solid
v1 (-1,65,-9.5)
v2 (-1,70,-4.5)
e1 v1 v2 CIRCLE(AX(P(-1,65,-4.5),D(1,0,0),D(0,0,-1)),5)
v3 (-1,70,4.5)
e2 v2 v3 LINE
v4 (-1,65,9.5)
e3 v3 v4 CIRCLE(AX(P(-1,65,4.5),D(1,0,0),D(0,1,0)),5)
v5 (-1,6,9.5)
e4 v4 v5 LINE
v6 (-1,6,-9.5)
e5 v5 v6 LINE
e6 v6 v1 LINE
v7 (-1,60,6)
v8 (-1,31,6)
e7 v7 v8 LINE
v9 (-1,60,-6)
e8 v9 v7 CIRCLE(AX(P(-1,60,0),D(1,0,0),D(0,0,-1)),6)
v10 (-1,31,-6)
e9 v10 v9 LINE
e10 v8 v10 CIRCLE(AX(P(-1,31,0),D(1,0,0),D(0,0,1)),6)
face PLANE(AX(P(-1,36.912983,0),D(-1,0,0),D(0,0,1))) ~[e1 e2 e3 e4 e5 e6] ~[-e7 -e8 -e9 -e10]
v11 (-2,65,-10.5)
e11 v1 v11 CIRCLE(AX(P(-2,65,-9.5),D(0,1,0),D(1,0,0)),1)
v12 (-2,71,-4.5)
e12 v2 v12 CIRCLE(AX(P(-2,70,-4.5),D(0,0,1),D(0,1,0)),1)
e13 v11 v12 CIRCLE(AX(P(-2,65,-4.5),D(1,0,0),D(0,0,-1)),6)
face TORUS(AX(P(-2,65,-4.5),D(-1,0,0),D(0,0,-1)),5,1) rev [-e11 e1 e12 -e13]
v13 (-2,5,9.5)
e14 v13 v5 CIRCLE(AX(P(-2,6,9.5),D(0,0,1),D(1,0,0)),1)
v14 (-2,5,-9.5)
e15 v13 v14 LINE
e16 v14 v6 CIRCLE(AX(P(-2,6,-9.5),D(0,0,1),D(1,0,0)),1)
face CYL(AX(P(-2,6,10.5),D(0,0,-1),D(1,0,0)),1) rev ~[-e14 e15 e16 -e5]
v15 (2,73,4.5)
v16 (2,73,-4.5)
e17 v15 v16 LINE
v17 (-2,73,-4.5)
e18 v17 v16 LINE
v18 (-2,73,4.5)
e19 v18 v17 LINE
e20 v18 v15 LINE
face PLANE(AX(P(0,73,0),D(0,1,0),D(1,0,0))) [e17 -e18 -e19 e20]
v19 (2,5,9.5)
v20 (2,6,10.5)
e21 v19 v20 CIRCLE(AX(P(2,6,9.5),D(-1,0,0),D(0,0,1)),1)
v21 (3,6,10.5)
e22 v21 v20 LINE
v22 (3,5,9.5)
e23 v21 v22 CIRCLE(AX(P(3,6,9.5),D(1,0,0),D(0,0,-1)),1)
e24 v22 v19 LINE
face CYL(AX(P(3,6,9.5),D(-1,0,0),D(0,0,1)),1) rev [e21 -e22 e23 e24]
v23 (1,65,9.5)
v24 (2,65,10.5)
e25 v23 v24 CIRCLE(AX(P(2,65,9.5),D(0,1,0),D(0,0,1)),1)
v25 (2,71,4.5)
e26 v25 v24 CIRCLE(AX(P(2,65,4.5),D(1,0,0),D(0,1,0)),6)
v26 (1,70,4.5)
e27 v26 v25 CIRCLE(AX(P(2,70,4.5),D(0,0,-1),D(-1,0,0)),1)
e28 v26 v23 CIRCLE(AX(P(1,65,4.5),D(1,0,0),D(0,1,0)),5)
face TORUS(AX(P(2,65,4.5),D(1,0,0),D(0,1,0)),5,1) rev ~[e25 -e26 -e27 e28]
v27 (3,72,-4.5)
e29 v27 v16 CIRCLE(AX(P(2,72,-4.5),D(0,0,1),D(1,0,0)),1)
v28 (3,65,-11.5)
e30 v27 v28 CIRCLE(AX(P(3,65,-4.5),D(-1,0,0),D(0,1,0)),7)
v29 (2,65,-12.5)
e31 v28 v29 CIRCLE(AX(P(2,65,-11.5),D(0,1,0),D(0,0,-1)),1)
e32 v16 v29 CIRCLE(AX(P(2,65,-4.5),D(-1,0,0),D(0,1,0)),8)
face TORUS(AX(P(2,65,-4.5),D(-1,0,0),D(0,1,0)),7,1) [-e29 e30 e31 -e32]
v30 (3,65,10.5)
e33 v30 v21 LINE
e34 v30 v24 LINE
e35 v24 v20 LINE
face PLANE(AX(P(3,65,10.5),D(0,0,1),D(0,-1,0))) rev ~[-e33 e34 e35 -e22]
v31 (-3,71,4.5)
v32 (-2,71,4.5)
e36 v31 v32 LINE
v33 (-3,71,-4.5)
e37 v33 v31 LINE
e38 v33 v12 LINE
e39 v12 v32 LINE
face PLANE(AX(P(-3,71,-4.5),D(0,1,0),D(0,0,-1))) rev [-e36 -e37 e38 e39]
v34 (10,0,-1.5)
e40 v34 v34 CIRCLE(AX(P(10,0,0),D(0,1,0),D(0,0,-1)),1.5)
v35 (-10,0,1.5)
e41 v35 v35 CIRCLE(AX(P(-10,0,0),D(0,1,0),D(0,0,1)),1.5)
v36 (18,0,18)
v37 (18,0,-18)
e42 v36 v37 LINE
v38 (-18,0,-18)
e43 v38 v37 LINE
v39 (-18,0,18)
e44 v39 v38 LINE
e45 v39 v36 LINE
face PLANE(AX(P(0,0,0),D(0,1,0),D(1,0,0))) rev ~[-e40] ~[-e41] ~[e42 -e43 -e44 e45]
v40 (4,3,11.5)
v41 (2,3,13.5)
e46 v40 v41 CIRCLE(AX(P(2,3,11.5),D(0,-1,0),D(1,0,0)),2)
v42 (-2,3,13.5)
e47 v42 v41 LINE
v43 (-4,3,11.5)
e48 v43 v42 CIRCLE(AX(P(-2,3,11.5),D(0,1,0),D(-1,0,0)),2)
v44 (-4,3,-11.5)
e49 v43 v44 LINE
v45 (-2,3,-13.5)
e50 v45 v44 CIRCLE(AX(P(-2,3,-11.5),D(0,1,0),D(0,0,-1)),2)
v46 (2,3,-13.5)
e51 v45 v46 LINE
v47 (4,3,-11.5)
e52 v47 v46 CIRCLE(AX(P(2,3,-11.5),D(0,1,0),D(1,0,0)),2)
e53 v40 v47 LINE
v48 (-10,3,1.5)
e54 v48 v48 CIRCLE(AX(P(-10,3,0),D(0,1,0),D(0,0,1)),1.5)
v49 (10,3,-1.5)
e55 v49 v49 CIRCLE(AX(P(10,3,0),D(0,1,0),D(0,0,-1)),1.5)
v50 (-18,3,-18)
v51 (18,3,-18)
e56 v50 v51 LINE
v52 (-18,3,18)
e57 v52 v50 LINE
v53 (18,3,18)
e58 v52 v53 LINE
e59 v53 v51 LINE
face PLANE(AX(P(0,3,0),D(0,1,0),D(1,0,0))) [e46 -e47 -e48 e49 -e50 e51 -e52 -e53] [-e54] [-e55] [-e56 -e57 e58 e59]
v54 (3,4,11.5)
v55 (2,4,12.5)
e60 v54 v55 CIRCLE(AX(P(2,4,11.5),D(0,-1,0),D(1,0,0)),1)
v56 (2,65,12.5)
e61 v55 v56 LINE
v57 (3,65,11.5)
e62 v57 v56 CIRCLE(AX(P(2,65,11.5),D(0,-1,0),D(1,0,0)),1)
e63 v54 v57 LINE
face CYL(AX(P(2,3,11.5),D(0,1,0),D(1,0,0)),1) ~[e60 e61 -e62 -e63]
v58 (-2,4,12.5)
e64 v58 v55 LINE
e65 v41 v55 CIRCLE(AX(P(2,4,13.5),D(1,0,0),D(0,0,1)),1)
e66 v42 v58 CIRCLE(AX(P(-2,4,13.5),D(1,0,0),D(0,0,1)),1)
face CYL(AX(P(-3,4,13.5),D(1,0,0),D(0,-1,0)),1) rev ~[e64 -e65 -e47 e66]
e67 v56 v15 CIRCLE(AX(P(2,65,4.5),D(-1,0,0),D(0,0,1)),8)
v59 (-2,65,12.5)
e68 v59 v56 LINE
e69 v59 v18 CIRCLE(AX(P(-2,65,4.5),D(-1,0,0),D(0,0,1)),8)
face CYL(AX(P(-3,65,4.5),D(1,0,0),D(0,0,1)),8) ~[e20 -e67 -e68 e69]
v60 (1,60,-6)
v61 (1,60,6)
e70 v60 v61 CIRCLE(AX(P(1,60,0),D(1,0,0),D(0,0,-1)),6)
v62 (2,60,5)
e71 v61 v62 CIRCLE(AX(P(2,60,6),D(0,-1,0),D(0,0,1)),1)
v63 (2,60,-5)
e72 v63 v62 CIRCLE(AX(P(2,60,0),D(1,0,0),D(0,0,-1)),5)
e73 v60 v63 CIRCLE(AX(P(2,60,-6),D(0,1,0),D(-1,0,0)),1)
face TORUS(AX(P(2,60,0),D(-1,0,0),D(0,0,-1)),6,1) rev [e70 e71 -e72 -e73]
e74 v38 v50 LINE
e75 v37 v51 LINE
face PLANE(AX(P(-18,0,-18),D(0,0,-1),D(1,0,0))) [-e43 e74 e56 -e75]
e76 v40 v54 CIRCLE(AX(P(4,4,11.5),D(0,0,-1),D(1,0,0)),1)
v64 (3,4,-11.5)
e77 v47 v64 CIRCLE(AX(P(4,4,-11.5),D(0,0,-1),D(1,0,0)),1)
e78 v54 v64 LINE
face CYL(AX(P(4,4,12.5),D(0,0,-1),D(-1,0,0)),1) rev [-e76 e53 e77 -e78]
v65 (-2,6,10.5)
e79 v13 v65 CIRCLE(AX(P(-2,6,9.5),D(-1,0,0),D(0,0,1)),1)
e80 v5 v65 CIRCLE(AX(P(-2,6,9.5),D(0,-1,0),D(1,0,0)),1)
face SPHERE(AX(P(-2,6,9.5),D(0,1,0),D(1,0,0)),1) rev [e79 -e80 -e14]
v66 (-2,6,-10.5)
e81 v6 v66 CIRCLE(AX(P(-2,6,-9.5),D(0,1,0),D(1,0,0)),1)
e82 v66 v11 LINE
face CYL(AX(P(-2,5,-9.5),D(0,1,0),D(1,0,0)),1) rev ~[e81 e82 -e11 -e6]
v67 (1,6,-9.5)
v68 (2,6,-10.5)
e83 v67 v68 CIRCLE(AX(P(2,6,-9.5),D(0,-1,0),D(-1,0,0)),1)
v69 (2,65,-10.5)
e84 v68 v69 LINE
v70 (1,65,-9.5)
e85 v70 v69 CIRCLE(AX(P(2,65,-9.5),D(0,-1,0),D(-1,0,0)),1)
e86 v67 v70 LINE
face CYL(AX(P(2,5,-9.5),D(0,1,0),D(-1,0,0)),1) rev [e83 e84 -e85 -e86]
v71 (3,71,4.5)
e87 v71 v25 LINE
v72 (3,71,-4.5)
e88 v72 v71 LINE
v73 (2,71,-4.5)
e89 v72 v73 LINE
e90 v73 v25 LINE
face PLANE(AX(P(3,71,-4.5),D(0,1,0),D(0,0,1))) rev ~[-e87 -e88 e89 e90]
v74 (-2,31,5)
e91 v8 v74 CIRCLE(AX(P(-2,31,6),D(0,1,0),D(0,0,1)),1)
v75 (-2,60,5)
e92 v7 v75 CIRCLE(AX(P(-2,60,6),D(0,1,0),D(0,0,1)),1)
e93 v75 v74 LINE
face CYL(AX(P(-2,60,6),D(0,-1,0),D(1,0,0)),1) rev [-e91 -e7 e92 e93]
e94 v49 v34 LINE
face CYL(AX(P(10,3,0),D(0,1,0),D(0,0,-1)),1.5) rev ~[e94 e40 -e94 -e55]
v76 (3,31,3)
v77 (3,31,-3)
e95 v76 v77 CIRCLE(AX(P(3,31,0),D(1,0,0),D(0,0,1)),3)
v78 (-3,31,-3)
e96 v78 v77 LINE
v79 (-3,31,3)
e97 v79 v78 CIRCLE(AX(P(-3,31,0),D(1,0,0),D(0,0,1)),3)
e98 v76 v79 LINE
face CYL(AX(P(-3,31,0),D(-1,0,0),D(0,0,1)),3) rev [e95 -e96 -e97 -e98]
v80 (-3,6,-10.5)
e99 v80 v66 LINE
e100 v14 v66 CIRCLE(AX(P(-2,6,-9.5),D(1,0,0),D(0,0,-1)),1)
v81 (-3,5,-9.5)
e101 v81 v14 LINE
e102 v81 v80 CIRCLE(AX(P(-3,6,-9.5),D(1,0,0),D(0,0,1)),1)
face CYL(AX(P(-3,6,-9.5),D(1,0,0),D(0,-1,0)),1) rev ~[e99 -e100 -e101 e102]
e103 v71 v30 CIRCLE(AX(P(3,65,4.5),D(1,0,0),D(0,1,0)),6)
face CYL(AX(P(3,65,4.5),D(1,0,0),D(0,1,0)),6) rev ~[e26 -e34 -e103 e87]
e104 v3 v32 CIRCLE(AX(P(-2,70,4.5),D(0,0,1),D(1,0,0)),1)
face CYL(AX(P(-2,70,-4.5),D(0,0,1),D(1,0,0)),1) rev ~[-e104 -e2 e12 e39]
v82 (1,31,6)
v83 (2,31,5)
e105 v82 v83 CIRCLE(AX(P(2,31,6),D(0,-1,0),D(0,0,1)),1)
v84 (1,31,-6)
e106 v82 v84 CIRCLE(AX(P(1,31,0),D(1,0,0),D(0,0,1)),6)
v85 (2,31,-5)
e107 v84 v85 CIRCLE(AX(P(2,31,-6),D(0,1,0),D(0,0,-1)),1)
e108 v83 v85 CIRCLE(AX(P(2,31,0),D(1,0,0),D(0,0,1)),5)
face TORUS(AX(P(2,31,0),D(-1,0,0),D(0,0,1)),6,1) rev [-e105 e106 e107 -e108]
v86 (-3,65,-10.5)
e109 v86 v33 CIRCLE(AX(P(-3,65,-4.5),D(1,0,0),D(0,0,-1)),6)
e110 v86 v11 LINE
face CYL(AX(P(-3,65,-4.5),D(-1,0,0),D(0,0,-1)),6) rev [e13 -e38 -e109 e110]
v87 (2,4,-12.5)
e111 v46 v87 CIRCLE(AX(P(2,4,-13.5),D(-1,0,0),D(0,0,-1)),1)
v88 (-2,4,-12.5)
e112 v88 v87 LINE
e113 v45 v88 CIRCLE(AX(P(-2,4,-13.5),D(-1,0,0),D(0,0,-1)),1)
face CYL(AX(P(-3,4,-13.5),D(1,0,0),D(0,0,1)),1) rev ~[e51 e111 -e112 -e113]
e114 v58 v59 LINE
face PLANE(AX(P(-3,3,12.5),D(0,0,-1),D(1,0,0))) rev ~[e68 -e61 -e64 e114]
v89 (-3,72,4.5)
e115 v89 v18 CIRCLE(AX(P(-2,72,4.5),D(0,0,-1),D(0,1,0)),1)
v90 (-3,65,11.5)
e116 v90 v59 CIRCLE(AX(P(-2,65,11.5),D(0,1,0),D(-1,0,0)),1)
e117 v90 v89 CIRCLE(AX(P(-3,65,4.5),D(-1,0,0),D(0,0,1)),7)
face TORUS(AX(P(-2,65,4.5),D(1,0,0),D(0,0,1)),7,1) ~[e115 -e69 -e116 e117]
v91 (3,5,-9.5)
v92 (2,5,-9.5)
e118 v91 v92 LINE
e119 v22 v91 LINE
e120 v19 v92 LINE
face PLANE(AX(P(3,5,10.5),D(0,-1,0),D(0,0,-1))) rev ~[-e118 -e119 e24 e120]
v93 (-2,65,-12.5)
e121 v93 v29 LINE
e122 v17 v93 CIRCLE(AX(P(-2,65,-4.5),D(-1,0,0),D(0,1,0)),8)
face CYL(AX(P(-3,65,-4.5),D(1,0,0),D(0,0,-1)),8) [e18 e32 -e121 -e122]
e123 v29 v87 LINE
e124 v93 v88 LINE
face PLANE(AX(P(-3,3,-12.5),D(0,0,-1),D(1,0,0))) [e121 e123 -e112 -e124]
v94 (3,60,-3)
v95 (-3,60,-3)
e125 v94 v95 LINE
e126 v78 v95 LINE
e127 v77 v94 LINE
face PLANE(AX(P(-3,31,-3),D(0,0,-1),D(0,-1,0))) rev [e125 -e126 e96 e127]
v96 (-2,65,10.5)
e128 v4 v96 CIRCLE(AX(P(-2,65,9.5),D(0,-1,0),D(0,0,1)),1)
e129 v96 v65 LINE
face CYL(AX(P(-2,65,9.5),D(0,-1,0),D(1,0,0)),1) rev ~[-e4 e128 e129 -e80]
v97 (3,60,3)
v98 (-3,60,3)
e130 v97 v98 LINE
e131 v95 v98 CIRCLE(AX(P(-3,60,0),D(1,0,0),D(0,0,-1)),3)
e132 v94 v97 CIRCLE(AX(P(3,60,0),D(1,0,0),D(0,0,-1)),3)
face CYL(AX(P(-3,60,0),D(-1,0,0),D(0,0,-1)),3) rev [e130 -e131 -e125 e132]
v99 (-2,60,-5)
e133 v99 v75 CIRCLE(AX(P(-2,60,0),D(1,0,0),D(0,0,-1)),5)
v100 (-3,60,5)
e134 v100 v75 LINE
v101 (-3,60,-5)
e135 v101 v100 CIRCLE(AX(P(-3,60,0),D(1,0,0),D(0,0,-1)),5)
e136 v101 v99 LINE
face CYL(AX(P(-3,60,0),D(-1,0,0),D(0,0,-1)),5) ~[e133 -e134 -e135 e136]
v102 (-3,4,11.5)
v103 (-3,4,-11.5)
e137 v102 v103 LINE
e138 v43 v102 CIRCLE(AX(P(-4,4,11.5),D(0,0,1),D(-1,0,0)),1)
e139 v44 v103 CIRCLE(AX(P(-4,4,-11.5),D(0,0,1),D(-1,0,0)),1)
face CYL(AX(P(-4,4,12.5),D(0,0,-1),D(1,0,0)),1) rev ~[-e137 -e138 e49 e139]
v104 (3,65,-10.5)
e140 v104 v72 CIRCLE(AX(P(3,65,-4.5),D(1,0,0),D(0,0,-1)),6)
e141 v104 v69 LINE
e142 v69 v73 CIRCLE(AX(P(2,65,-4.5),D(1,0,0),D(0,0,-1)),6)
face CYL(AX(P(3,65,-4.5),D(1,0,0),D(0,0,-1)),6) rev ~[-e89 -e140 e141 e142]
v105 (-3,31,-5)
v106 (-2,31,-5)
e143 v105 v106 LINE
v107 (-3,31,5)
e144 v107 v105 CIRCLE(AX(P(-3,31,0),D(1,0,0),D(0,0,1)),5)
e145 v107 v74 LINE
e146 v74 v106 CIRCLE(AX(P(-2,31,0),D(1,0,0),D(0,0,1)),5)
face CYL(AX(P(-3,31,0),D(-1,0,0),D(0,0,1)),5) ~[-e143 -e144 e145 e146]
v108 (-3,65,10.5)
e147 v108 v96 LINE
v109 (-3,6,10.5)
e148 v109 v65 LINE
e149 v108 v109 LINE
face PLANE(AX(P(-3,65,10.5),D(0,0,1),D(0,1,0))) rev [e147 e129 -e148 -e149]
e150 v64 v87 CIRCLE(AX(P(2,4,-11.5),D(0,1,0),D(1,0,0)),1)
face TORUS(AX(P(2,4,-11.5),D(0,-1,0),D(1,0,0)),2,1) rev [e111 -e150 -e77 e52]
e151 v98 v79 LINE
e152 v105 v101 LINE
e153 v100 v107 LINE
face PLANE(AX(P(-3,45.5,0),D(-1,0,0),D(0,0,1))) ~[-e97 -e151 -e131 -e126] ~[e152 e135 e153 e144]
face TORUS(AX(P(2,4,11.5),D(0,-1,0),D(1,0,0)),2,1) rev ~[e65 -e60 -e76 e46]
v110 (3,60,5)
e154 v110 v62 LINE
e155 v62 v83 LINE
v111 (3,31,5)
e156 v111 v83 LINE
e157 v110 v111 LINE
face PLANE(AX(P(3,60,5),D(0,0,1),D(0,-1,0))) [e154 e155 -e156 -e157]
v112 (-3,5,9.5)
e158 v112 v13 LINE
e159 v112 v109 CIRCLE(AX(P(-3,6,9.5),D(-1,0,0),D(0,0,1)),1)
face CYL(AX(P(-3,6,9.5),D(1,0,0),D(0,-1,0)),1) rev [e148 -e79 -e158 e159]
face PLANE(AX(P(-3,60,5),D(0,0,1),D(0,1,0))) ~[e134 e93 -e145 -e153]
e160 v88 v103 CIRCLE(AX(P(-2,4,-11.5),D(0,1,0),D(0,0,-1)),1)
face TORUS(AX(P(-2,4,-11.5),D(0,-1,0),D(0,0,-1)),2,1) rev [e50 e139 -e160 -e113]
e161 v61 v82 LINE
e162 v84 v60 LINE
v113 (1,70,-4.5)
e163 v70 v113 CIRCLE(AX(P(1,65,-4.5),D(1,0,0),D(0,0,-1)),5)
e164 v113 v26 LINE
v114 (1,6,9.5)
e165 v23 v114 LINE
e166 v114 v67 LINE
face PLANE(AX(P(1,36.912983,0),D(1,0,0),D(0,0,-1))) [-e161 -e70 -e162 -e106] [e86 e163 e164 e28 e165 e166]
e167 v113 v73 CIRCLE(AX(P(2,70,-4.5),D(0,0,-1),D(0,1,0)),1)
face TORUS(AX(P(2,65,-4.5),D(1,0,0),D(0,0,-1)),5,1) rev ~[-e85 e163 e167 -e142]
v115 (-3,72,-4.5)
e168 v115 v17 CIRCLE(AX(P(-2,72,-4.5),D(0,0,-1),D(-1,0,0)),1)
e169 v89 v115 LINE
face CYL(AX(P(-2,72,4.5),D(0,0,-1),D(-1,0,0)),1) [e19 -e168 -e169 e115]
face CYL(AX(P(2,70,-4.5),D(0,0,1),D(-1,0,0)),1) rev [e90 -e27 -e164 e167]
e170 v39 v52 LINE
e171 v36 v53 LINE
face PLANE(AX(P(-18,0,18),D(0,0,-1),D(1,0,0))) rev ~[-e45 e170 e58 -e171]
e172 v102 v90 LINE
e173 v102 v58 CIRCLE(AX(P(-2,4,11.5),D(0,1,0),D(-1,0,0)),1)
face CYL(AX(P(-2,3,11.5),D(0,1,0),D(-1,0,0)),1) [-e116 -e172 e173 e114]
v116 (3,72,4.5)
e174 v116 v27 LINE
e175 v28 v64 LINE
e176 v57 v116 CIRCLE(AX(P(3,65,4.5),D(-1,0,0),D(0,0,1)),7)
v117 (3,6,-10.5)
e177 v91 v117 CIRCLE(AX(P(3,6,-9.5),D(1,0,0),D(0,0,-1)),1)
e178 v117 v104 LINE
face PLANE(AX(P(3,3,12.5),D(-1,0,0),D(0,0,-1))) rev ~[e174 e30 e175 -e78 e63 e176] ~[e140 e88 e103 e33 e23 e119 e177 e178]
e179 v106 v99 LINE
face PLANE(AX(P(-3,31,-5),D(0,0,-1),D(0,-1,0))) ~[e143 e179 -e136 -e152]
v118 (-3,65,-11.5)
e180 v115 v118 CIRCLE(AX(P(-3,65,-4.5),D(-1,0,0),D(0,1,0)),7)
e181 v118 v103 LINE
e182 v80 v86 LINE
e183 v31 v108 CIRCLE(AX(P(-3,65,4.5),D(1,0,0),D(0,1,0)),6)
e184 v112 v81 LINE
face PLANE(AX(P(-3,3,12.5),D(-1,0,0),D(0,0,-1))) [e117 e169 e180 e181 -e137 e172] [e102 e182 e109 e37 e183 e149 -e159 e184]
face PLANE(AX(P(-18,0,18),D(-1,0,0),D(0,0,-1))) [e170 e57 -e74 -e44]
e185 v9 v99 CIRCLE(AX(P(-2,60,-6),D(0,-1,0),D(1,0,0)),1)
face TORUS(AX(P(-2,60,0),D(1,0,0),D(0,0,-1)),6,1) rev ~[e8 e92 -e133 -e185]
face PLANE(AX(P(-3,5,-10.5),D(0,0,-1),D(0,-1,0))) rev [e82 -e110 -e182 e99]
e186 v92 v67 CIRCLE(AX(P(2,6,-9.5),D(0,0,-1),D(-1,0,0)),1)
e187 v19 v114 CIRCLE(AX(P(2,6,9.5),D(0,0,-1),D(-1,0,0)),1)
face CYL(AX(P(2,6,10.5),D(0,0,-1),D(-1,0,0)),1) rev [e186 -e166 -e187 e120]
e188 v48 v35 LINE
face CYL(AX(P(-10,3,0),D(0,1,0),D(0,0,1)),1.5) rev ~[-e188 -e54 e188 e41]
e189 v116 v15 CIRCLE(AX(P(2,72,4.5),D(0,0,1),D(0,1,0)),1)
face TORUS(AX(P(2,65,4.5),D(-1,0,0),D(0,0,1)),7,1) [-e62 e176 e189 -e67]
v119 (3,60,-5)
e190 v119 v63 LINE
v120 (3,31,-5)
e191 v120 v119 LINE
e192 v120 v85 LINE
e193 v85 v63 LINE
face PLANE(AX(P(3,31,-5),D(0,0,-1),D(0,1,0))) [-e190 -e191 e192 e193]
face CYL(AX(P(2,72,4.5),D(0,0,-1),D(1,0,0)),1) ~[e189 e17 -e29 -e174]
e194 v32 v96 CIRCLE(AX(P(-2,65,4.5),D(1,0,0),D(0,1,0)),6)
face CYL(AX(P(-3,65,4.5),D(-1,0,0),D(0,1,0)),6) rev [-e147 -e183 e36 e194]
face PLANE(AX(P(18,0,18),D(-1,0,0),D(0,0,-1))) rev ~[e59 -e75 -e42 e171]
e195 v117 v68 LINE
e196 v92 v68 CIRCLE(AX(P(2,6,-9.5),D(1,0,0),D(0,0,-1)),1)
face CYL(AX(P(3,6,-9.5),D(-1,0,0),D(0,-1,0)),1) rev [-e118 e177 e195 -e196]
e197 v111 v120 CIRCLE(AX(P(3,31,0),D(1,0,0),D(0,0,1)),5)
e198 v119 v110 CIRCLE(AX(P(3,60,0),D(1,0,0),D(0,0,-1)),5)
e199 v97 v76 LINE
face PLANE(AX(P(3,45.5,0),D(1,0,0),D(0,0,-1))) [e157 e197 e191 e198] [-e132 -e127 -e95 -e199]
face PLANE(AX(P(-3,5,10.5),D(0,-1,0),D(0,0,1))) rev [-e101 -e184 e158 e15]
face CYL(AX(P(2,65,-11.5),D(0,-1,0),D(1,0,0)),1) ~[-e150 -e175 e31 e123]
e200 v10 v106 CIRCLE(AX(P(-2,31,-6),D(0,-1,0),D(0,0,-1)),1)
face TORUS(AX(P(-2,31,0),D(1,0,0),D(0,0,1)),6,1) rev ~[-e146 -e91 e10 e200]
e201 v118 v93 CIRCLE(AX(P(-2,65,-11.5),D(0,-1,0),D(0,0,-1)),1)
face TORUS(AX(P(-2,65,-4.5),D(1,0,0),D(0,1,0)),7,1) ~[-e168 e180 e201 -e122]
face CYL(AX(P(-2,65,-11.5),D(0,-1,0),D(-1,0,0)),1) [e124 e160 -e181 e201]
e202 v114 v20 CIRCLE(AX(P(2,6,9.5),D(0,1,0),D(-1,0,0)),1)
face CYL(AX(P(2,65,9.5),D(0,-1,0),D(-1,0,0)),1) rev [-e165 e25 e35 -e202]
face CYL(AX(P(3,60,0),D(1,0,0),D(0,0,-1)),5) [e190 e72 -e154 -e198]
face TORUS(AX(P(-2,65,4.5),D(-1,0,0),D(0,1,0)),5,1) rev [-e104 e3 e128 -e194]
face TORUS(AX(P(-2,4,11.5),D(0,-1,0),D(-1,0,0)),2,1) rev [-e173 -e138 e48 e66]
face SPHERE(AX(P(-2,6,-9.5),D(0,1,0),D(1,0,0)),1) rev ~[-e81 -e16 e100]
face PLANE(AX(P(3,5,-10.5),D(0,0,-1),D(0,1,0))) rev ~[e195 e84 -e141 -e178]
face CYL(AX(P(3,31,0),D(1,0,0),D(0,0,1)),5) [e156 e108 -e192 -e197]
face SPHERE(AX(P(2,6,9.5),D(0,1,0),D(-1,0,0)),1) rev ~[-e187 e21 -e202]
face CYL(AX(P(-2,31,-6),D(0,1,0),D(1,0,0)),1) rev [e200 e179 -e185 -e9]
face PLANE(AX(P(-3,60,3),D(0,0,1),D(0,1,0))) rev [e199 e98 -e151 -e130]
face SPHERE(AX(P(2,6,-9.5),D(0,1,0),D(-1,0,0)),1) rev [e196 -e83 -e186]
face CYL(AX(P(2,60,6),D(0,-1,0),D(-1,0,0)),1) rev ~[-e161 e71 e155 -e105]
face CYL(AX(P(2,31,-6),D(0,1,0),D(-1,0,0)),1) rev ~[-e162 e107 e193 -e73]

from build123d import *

# Parameters (mm, degrees)
SKETCH1_W           = 36
SKETCH1_H           = 36
BOSS_EXTRUDE1_DEPTH = 3
SKETCH2_R           = 1.5
CUT_EXTRUDE1_DEPTH  = 3
SKETCH3_W           = 6
SKETCH3_H           = 25
BOSS_EXTRUDE2_DEPTH = 70
CUT_EXTRUDE2_DEPTH  = 70
FILLET1_R           = 8
CUT_EXTRUDE3_DEPTH  = 2
BOSS_EXTRUDE3_START = 2
BOSS_EXTRUDE3_DEPTH = 2
FILLET2_R           = 1


with BuildPart() as part:
    # Sketch1 → Boss-Extrude1 (new body)
    with BuildSketch(Plane(origin=(0, 0, 0), x_dir=(1, 0, 0), z_dir=(0, 1, 0))):
        Rectangle(SKETCH1_W, SKETCH1_H)
    extrude(amount=BOSS_EXTRUDE1_DEPTH)

    # Sketch2 → Cut-Extrude1 (cut)
    with BuildSketch(Plane(origin=(0, 3, 0), x_dir=(1, 0, 0), z_dir=(0, 1, 0))):
        with Locations(Location((-10, 0, 0), (0, 0, 270))):
            Circle(SKETCH2_R)
        with Locations(Location((10, 0, 0), (0, 0, 90))):
            Circle(SKETCH2_R)
    extrude(amount=-CUT_EXTRUDE1_DEPTH, mode=Mode.SUBTRACT)

    # Sketch3 → Boss-Extrude2 (add)
    with BuildSketch(Plane(origin=(0, 3, 0), x_dir=(1, 0, 0), z_dir=(0, 1, 0))):
        Rectangle(SKETCH3_W, SKETCH3_H)
    extrude(amount=BOSS_EXTRUDE2_DEPTH)

    # Sketch4 → Cut-Extrude2 (cut)
    with BuildSketch(Plane(origin=(3, 0, 0), x_dir=(0, 0, -1), z_dir=(1, 0, 0))):
        with BuildLine():
            Line((-3, 60), (-3, 31))
            ThreePointArc((-3, 31), (0, 28), (3, 31))
            Line((3, 31), (3, 60))
            ThreePointArc((3, 60), (0, 63), (-3, 60))
        make_face()
    extrude(amount=-CUT_EXTRUDE2_DEPTH, mode=Mode.SUBTRACT)

    # Fillet1
    fillet1_edges = [part.edges().sort_by_distance(p)[0] for p in [
        (0, 73, -12.5),
        (0, 73, 12.5),
    ]]
    fillet(fillet1_edges, radius=FILLET1_R)

    # Sketch5 → Cut-Extrude3 (cut)
    with BuildSketch(Plane(origin=(3, 0, 0), x_dir=(0, 0, -1), z_dir=(1, 0, 0))):
        with BuildLine():
            Line((4.5, 71), (-4.5, 71))
            ThreePointArc((-4.5, 71), (-8.742640687, 69.242640687), (-10.5, 65))
            Line((-10.5, 65), (-10.5, 5))
            Line((-10.5, 5), (10.5, 5))
            Line((10.5, 5), (10.5, 65))
            ThreePointArc((10.5, 65), (8.742640687, 69.242640687), (4.5, 71))
        make_face()
    cut_extrude3 = extrude(amount=-CUT_EXTRUDE3_DEPTH, mode=Mode.SUBTRACT)

    # Sketch6 → Boss-Extrude3 (add)
    with BuildSketch(Plane(origin=(1, 0, 0), x_dir=(0, 0, -1), z_dir=(1, 0, 0)).offset(BOSS_EXTRUDE3_START)):
        with BuildLine():
            Line((-5, 60), (-5, 31))
            ThreePointArc((-5, 31), (0, 26), (5, 31))
            Line((5, 31), (5, 60))
            ThreePointArc((5, 60), (0, 65), (-5, 60))
        make_face()
        with BuildLine():
            Line((3, 31), (3, 60))
            ThreePointArc((3, 60), (0, 63), (-3, 60))
            Line((-3, 60), (-3, 31))
            ThreePointArc((-3, 31), (0, 28), (3, 31))
        make_face(mode=Mode.SUBTRACT)
    boss_extrude3 = extrude(amount=-BOSS_EXTRUDE3_DEPTH)

    # Mirror1: Cut-Extrude3, Boss-Extrude3 across plane
    add(cut_extrude3.mirror(Plane(origin=(0, 0, 0), x_dir=(0, 0, 1), z_dir=(1, 0, 0))), mode=Mode.SUBTRACT)
    add(boss_extrude3.mirror(Plane(origin=(0, 0, 0), x_dir=(0, 0, 1), z_dir=(1, 0, 0))))

    # Fillet2
    fillet2_edges = [part.edges().sort_by_distance(p)[0] for p in [
        (-1, 69.242640687, -8.742640687),
        (-1, 71, 0),
        (-1, 69.242640687, 8.742640687),
        (-1, 35, 10.5),
        (-1, 5, 0),
        (-1, 35, -10.5),
        (-2, 5, 10.5),
        (-2, 5, -10.5),
        (-1, 26, 0),
        (-1, 45.5, -5),
        (-1, 65, 0),
        (-1, 45.5, 5),
        (3, 3, 0),
        (0, 3, -12.5),
        (-3, 3, 0),
        (0, 3, 12.5),
        (3, 73, 0),
        (-3, 73, 0),
        (3, 34, -12.5),
        (3, 34, 12.5),
        (3, 70.656854249, -10.156854249),
        (3, 70.656854249, 10.156854249),
        (-3, 34, 12.5),
        (-3, 34, -12.5),
        (-3, 70.656854249, -10.156854249),
        (-3, 70.656854249, 10.156854249),
        (1, 69.242640687, -8.742640687),
        (1, 35, -10.5),
        (1, 5, 0),
        (2, 5, -10.5),
        (1, 35, 10.5),
        (2, 5, 10.5),
        (1, 69.242640687, 8.742640687),
        (1, 71, 0),
        (1, 26, 0),
        (1, 45.5, -5),
        (1, 65, 0),
        (1, 45.5, 5),
    ]]
    fillet(fillet2_edges, radius=FILLET2_R)


solid = part.part
